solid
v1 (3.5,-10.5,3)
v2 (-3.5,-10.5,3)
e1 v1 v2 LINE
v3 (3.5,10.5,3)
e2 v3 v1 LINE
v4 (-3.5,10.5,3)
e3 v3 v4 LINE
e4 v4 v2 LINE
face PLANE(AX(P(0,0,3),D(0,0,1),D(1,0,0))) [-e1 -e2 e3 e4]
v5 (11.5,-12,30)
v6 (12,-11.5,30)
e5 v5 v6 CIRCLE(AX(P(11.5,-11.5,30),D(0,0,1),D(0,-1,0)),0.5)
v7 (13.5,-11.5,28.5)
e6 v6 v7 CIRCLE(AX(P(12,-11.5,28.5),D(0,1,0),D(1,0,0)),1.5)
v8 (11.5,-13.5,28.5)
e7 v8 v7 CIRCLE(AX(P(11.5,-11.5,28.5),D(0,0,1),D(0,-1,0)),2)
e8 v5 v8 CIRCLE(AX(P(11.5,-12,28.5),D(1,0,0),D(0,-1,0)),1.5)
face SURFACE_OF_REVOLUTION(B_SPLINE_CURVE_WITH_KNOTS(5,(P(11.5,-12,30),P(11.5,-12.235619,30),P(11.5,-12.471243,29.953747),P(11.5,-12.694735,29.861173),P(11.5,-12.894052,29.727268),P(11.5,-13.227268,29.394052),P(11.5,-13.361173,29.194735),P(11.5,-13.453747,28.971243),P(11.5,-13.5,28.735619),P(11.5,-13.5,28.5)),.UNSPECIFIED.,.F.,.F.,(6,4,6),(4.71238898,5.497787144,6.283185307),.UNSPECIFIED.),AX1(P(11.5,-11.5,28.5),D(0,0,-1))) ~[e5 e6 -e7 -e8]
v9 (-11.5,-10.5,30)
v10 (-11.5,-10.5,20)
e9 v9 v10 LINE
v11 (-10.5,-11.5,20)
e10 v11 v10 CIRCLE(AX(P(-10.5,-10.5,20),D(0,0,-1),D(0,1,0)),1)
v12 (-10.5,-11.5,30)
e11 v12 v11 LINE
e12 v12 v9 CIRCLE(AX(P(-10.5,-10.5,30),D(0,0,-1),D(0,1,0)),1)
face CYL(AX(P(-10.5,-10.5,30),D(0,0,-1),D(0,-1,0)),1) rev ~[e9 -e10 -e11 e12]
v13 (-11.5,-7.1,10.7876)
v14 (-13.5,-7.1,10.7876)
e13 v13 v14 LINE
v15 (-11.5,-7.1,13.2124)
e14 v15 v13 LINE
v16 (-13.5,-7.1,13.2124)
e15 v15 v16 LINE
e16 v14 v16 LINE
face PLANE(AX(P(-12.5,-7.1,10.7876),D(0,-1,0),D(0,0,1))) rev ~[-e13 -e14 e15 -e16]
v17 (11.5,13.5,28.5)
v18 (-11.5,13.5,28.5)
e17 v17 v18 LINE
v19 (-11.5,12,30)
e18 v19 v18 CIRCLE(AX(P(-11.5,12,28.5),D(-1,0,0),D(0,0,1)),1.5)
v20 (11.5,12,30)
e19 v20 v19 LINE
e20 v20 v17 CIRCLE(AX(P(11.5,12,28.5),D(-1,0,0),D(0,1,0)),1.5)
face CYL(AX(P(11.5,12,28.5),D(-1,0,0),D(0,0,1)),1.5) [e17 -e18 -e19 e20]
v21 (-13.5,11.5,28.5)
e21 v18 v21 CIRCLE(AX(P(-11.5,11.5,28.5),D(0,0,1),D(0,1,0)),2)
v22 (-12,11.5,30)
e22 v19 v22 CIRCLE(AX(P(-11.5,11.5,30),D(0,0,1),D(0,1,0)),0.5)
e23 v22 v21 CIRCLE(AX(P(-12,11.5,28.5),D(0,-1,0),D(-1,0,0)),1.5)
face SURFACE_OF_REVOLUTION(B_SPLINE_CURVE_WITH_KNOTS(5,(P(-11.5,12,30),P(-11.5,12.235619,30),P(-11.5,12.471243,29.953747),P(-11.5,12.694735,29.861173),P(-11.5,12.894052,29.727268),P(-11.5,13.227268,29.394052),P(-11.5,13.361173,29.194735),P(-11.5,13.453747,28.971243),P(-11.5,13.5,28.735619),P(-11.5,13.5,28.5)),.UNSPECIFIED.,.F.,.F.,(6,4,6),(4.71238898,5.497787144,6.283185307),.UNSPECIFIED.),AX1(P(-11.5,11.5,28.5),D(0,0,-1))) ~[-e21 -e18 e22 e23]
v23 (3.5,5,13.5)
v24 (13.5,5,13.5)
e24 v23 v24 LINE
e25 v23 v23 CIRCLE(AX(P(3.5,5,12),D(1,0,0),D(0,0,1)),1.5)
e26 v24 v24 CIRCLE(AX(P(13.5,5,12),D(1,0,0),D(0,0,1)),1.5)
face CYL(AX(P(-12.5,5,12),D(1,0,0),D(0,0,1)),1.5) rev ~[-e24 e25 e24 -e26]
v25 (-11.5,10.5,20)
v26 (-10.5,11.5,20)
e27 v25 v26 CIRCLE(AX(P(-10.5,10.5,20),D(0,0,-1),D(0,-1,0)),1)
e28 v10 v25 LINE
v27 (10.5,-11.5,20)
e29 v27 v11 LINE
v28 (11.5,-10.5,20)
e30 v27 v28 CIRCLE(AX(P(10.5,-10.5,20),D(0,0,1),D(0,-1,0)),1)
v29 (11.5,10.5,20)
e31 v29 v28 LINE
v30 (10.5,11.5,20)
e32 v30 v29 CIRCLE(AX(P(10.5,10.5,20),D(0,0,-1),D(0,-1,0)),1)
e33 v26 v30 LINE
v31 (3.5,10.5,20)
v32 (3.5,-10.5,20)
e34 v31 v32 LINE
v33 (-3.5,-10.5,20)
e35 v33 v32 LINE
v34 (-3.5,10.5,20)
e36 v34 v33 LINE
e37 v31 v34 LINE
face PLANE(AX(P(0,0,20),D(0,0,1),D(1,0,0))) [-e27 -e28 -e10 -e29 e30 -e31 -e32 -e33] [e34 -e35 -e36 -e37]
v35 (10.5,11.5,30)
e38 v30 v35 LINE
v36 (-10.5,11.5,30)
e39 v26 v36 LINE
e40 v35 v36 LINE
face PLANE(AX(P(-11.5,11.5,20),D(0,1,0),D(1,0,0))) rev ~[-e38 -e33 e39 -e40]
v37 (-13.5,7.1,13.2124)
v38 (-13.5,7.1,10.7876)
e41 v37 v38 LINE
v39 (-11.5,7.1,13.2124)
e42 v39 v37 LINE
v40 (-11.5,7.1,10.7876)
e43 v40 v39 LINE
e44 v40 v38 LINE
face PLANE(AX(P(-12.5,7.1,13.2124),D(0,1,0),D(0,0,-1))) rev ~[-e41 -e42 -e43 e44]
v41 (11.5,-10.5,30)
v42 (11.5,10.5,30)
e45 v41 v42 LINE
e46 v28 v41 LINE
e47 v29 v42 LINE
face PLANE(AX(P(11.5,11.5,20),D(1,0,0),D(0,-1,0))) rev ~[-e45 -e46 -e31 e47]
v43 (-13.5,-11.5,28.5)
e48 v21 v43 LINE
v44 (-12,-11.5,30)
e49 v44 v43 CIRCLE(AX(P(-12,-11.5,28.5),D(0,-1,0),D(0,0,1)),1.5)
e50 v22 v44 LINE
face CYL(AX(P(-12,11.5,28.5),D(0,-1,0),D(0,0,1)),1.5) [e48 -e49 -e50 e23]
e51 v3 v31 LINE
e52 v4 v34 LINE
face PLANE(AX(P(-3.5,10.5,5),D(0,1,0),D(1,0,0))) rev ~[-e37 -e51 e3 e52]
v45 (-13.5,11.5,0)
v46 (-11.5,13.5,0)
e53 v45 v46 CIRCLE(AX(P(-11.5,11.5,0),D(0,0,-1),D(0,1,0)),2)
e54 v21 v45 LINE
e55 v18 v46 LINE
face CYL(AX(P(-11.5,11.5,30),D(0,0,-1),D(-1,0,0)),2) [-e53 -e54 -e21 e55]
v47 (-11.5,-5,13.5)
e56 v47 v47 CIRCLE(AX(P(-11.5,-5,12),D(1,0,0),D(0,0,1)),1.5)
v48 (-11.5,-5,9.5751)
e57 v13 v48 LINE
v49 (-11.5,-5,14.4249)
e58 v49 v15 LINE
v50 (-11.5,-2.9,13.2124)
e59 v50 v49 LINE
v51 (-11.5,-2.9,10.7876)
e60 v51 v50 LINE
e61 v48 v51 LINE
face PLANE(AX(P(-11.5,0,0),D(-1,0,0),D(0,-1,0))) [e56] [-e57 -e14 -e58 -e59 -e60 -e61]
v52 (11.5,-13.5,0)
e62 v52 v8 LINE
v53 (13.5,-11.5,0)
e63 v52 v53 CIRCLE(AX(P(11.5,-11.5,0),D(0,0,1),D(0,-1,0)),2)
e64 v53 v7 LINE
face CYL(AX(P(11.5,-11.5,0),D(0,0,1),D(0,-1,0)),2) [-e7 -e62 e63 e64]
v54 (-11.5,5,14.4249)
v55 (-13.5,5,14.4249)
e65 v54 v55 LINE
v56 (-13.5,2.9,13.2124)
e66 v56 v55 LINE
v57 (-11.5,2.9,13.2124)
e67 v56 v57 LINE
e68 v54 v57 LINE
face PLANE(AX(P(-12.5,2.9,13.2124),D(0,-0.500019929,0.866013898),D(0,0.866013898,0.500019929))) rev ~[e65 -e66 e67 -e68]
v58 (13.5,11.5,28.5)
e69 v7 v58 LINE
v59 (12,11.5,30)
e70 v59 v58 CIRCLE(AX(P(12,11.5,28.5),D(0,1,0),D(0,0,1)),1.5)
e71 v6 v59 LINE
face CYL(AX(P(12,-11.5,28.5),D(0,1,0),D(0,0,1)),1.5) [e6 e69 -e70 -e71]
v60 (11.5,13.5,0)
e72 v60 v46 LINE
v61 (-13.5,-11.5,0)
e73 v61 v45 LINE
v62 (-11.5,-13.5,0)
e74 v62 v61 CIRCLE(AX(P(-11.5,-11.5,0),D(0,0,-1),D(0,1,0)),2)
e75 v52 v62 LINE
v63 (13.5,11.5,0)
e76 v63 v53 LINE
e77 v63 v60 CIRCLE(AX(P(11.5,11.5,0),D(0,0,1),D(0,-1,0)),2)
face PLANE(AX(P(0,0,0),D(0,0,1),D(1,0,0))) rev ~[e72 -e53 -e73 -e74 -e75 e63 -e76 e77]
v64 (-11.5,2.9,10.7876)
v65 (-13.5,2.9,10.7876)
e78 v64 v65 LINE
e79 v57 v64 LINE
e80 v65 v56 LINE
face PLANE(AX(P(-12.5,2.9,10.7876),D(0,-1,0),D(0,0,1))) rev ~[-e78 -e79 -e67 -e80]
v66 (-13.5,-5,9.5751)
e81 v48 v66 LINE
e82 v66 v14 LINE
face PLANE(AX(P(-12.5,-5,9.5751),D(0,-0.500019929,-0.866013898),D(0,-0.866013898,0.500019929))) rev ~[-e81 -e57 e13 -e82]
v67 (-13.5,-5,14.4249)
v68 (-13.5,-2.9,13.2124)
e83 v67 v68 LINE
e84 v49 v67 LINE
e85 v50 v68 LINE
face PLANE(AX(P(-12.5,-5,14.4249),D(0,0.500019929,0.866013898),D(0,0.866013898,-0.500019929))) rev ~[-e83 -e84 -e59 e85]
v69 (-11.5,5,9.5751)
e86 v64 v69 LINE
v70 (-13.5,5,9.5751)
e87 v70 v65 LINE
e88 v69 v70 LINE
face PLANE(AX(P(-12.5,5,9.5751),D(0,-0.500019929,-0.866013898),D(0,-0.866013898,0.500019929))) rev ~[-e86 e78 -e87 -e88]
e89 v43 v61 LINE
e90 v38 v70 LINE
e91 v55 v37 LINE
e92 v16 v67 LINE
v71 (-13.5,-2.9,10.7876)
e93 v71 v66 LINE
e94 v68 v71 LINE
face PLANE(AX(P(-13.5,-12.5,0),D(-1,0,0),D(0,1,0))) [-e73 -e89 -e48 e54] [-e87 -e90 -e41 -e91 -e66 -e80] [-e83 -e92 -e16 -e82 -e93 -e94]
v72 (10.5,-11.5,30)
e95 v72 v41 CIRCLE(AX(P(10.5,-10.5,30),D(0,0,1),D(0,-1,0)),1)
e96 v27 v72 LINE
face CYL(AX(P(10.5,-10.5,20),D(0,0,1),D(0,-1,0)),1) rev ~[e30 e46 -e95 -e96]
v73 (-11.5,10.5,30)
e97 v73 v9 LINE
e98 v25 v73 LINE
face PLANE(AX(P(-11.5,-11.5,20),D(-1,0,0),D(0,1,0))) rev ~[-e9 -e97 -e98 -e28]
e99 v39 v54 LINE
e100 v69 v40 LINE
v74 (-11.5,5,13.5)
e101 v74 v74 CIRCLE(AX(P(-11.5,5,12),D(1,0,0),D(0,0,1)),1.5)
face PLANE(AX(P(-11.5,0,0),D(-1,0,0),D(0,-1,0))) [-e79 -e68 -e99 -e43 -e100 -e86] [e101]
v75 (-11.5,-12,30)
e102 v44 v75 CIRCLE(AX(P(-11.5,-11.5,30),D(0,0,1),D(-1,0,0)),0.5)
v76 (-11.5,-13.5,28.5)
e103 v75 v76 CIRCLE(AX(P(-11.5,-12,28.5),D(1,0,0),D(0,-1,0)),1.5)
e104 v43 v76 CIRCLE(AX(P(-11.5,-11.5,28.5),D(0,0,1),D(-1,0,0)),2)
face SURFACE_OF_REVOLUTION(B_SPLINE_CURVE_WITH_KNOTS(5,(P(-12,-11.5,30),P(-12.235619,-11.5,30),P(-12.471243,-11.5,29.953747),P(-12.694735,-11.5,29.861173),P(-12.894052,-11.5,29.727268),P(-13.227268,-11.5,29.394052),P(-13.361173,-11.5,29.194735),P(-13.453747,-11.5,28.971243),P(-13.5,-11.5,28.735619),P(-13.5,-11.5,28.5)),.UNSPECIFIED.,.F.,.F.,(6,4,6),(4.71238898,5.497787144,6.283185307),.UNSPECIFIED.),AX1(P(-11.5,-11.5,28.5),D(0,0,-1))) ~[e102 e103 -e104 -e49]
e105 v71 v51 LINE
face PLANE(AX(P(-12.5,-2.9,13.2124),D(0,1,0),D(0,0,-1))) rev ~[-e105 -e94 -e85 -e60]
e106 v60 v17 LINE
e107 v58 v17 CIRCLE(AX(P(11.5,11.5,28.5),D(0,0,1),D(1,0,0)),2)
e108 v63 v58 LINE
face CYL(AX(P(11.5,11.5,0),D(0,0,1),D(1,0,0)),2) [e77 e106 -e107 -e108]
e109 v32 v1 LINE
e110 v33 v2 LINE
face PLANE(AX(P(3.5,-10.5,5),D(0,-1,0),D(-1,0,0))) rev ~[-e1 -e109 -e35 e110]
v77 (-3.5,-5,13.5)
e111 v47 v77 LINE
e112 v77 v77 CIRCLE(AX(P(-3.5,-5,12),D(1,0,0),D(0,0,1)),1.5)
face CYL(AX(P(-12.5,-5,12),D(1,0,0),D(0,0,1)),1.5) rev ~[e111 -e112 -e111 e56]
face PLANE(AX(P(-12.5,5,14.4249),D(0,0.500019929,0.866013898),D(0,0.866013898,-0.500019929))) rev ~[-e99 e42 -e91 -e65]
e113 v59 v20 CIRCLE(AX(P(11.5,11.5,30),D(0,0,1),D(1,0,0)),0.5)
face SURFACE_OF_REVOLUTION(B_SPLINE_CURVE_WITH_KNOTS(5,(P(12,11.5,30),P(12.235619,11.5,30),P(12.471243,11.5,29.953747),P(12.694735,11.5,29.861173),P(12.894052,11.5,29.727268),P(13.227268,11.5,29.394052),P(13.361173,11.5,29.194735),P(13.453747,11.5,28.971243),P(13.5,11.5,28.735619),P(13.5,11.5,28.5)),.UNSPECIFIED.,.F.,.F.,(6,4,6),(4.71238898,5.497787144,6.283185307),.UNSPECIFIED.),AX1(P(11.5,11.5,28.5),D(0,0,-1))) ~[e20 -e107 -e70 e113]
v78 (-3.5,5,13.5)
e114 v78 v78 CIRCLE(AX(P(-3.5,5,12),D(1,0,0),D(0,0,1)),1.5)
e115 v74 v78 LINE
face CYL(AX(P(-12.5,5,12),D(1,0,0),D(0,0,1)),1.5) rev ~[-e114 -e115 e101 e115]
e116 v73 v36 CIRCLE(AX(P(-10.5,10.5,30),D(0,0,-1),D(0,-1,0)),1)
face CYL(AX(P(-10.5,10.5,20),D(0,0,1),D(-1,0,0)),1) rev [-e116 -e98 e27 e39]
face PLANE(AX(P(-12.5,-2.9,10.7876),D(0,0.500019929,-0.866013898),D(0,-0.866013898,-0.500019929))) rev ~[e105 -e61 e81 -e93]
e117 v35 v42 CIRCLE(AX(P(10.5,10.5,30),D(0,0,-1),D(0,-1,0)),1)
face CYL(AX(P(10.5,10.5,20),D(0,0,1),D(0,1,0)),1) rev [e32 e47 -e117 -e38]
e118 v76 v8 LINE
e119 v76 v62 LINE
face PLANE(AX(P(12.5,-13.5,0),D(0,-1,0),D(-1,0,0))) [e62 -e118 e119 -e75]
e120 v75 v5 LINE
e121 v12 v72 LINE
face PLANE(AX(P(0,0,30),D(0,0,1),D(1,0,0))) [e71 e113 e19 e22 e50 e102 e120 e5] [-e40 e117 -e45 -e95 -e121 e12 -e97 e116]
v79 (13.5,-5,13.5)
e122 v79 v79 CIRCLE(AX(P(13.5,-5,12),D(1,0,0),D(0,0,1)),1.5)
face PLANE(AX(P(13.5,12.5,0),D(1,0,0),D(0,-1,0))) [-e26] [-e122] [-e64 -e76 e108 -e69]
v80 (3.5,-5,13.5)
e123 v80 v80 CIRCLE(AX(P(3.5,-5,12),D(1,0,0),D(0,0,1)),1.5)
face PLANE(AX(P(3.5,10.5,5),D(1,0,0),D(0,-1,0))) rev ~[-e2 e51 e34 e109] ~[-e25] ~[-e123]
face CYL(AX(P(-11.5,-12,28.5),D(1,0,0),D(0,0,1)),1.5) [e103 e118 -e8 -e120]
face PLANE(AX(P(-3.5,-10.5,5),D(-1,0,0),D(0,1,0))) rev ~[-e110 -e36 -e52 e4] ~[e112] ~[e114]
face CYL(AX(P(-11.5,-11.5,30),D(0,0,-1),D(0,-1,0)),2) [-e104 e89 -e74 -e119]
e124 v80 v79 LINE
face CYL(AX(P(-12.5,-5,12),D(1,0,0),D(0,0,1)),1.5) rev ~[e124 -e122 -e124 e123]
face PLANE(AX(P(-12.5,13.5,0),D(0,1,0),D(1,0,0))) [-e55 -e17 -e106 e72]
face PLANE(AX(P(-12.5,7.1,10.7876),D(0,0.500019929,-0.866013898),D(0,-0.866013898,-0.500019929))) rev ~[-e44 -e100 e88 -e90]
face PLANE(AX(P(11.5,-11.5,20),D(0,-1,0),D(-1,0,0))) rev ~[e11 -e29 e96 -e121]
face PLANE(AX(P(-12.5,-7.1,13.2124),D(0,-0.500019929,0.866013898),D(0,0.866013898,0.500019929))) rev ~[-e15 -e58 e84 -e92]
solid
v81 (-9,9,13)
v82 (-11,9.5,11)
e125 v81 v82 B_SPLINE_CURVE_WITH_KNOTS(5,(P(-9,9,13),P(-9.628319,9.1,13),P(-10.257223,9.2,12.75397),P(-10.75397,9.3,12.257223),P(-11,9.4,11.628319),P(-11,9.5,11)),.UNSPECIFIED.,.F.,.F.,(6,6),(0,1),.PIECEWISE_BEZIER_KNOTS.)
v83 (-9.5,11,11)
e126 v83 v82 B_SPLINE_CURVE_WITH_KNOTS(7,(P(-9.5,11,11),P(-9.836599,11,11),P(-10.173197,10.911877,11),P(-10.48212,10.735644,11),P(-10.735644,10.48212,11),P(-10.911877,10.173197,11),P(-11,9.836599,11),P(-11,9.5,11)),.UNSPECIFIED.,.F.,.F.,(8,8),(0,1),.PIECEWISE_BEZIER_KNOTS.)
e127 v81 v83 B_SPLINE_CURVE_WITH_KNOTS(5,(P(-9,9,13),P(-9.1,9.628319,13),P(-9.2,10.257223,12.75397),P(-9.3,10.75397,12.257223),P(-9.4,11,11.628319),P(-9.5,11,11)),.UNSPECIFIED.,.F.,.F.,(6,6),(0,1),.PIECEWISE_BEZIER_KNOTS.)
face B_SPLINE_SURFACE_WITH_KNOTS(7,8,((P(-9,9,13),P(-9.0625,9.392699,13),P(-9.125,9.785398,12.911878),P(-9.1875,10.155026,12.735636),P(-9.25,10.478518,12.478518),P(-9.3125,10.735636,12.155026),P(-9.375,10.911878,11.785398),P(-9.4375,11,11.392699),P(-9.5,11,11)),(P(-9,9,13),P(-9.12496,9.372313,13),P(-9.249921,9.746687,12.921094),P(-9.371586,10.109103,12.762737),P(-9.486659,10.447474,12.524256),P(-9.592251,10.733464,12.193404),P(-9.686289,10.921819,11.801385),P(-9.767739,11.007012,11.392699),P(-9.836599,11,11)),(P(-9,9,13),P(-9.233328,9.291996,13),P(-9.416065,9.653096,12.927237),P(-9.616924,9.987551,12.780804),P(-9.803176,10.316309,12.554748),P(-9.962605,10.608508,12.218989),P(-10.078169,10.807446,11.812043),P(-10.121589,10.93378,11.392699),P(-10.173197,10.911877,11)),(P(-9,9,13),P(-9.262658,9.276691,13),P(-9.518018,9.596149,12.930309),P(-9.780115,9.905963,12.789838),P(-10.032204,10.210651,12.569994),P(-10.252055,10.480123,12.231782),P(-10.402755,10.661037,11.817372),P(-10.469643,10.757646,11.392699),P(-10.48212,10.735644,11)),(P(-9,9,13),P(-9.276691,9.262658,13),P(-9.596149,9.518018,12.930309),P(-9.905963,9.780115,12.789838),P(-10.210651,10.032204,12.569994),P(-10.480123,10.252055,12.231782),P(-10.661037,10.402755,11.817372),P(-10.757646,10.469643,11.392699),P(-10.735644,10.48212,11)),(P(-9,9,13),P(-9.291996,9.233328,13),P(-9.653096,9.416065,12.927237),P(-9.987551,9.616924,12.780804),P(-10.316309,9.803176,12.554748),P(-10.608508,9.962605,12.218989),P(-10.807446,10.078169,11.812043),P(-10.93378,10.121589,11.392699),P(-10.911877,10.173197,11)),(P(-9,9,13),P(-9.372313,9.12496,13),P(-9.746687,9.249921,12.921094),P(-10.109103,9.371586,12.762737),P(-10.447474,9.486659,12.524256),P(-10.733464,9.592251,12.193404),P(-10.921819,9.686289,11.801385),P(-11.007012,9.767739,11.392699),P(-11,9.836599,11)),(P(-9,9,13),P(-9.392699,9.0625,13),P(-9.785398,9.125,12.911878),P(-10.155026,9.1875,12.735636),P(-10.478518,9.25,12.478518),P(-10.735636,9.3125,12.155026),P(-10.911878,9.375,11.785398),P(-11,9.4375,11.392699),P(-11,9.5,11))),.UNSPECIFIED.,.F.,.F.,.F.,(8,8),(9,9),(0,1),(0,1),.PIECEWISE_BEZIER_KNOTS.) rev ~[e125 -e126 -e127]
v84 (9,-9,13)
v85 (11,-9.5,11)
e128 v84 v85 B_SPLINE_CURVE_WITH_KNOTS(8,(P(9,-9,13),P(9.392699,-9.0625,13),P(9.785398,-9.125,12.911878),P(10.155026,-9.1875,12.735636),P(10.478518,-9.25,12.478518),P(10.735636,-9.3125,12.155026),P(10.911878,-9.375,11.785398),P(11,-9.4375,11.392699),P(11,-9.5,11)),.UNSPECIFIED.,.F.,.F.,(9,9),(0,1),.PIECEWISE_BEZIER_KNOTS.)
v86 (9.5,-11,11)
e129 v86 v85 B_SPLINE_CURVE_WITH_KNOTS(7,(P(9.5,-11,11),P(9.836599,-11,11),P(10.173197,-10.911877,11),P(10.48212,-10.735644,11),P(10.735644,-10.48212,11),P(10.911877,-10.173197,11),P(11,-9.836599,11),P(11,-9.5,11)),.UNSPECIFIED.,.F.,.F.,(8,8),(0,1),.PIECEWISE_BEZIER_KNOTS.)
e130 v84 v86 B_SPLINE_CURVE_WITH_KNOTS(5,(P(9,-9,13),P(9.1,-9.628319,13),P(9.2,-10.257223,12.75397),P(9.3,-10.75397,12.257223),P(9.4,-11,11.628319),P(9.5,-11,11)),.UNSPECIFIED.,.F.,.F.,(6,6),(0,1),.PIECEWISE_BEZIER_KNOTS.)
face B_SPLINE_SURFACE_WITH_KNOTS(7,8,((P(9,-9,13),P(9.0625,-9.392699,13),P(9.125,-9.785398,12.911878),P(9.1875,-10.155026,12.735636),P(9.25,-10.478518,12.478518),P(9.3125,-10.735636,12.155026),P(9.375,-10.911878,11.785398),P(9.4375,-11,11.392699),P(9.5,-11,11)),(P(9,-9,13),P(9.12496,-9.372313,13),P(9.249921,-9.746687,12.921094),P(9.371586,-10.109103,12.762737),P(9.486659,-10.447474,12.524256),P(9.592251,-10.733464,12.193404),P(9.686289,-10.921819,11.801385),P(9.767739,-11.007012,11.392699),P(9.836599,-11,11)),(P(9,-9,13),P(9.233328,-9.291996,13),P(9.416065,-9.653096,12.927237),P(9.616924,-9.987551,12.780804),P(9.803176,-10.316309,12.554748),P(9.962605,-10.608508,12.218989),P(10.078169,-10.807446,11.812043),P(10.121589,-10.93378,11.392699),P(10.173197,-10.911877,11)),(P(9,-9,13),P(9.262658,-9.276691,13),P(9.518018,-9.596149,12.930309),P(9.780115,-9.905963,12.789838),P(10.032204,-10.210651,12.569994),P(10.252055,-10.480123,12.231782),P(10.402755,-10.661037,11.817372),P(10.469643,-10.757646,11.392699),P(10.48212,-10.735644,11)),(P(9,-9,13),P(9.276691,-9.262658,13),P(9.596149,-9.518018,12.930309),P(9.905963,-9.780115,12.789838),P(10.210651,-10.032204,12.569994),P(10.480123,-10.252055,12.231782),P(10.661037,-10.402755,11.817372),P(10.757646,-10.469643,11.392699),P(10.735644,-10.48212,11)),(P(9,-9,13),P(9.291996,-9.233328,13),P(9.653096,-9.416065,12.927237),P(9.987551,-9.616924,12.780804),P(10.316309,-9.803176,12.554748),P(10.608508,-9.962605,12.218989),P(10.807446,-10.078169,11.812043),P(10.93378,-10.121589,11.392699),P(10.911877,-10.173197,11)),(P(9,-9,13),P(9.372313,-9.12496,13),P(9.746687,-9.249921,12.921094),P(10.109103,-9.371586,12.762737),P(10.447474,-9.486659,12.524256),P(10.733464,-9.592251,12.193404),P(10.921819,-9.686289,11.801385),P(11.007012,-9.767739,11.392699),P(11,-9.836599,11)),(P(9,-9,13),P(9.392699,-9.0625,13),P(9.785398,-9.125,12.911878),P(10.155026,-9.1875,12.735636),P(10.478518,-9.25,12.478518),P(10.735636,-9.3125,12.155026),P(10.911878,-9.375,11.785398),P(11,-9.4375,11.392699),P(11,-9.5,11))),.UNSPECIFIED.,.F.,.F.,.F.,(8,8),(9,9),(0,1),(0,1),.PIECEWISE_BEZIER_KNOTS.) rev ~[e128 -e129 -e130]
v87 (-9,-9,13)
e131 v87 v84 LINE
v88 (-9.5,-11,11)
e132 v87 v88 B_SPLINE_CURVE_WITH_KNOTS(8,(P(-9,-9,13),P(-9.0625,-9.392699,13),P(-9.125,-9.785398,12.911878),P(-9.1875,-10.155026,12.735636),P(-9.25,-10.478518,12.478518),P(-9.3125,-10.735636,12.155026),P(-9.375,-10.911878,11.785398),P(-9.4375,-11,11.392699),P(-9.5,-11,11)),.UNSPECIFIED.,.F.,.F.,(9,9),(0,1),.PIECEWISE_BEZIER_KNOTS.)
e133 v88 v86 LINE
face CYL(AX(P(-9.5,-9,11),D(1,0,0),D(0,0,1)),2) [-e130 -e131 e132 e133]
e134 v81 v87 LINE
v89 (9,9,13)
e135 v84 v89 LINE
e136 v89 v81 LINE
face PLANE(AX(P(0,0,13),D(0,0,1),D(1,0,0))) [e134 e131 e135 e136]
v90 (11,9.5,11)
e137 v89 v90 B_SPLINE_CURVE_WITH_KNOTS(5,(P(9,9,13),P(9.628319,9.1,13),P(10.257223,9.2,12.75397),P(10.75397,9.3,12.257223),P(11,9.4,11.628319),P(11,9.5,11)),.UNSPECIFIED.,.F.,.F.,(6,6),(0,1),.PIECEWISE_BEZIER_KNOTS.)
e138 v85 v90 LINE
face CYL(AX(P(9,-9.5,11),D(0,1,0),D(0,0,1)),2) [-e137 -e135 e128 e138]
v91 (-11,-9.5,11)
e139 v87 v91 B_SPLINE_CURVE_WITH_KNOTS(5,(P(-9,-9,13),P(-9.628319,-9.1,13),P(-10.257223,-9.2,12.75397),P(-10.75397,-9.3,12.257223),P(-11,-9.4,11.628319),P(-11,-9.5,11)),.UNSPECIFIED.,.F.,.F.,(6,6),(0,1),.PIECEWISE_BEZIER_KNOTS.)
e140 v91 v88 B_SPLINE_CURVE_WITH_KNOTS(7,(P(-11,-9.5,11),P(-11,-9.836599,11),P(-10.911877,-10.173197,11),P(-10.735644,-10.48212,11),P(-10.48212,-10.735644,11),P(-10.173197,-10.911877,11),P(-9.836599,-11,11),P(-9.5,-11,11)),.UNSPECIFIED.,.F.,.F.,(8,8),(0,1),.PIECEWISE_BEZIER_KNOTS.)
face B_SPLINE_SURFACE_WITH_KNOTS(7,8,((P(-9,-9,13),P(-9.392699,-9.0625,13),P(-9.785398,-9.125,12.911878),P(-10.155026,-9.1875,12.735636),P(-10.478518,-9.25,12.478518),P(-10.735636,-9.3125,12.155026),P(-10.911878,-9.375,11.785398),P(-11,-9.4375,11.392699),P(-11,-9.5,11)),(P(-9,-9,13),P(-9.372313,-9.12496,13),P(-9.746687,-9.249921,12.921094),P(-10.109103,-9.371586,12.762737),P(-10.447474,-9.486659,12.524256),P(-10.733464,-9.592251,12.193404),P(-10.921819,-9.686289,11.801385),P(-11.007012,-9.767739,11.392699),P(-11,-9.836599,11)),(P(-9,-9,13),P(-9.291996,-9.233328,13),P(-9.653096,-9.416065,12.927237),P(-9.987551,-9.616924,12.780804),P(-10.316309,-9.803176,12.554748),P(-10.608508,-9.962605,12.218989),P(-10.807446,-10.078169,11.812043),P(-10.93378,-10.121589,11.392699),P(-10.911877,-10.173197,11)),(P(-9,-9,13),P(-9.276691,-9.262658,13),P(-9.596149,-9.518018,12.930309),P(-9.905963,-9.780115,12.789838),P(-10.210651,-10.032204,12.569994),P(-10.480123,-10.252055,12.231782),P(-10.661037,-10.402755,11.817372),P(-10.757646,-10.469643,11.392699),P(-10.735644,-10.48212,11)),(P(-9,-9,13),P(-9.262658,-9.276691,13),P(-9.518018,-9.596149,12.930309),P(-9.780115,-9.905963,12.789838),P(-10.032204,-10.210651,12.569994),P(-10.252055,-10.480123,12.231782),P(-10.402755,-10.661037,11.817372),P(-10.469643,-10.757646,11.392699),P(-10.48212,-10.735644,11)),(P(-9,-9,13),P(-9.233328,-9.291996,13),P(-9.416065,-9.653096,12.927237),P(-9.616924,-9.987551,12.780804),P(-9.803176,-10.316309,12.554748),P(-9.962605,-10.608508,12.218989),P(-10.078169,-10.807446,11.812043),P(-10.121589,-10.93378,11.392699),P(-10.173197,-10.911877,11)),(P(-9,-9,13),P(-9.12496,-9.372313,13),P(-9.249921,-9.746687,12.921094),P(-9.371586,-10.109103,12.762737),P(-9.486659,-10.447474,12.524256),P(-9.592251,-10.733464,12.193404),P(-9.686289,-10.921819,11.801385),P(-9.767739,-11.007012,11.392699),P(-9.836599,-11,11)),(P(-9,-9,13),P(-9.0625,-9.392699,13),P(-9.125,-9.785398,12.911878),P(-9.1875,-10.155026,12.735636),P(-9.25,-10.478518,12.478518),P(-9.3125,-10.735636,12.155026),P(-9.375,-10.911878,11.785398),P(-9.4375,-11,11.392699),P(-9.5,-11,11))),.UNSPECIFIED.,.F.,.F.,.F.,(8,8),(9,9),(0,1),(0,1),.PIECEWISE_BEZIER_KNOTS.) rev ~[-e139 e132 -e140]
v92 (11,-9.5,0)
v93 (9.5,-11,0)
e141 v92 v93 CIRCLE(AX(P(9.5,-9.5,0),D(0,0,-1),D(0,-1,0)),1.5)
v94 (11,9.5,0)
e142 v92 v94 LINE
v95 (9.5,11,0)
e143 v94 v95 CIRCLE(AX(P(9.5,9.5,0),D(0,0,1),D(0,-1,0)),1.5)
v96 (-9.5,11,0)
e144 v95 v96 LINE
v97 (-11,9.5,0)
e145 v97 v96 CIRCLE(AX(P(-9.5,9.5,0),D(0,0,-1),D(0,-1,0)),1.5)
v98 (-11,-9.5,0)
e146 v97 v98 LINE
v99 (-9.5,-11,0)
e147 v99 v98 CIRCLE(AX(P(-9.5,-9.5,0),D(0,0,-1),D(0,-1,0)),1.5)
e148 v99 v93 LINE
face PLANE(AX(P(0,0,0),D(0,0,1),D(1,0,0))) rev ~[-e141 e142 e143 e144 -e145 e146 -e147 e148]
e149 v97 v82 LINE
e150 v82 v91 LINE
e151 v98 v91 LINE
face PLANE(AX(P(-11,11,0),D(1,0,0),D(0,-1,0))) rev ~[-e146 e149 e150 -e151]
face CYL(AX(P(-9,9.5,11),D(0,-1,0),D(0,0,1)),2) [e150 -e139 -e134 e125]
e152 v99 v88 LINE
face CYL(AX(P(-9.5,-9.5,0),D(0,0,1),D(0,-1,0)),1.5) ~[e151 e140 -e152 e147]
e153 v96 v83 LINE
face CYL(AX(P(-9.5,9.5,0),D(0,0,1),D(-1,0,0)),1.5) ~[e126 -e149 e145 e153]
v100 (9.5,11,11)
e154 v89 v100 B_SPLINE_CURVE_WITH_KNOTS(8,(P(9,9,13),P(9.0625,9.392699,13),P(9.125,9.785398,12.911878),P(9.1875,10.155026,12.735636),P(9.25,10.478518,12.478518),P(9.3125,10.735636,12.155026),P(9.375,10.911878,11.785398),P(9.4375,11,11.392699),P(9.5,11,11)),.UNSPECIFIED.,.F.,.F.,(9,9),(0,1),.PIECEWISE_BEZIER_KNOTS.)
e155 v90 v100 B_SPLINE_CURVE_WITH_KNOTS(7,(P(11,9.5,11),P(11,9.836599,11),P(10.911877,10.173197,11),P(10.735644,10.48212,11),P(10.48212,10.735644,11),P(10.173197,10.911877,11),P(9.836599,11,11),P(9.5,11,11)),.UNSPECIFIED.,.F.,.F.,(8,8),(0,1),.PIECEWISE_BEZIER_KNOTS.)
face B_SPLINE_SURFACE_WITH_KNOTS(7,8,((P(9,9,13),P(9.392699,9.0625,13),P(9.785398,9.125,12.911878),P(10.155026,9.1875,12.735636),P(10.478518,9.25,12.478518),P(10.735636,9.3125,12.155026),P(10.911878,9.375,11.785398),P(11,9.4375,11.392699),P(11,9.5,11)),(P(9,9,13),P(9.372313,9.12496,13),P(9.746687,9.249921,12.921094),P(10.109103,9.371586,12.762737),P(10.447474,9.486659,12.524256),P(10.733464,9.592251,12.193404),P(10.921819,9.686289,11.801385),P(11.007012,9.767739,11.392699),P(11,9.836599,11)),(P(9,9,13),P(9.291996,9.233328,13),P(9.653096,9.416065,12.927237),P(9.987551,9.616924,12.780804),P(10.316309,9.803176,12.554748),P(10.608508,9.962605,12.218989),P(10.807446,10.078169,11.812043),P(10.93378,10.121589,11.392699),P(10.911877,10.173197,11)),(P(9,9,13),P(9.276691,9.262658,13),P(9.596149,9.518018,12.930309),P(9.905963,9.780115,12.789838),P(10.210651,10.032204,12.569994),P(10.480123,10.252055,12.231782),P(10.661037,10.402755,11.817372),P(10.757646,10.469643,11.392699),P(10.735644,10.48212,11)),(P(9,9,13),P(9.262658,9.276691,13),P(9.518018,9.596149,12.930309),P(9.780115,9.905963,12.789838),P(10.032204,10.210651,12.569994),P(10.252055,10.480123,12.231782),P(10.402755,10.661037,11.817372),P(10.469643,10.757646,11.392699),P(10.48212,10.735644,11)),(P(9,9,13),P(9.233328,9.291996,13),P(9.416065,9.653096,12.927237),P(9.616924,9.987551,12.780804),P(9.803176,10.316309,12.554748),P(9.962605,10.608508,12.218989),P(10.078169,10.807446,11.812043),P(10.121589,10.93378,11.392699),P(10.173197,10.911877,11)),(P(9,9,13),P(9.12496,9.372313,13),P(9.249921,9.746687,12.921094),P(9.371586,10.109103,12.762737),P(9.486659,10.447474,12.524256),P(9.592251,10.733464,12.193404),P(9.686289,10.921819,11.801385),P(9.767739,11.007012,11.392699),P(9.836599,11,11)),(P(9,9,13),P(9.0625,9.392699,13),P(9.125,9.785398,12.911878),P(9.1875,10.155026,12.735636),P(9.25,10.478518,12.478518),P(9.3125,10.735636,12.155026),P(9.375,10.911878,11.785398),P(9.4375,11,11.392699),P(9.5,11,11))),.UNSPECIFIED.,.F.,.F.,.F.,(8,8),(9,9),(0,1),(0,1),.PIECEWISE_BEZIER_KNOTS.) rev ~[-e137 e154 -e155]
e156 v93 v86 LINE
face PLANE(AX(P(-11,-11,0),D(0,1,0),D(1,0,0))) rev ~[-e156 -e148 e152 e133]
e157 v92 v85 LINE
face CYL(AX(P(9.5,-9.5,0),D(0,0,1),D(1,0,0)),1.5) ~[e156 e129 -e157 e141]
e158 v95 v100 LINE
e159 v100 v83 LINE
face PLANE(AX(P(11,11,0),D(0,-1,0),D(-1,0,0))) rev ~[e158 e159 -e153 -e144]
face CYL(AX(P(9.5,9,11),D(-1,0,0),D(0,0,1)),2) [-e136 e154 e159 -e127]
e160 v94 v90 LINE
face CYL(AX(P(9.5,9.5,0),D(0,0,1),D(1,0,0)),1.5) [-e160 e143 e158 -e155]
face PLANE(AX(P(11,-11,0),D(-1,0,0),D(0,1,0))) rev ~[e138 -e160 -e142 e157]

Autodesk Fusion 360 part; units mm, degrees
sketch "Sketch1" plane through (0, 0, 0) normal (0, 0, 1) x (1, 0, 0)
  line L0 (12.5, -12.5) -> (-12.5, -12.5)
  line L1 (-12.5, -12.5) -> (-12.5, 12.5)
  line L2 (-12.5, 12.5) -> (12.5, 12.5)
  line L3 (12.5, 12.5) -> (12.5, -12.5)
  line L4 (12.5, -12.5) -> (-12.5, 12.5) construction
  line L5 (-12.5, -12.5) -> (12.5, 12.5) construction
  line L6 (3.5, -10.5) -> (-3.5, -10.5)
  line L7 (-3.5, -10.5) -> (-3.5, 10.5)
  line L8 (-3.5, 10.5) -> (3.5, 10.5)
  line L9 (3.5, 10.5) -> (3.5, -10.5)
  line L10 (3.5, -10.5) -> (-3.5, 10.5) construction
  line L11 (-3.5, -10.5) -> (3.5, 10.5) construction
  line L12 (11.5, -11.5) -> (-11.5, -11.5)
  line L13 (-11.5, -11.5) -> (-11.5, 11.5)
  line L14 (-11.5, 11.5) -> (11.5, 11.5)
  line L15 (11.5, 11.5) -> (11.5, -11.5)
  line L16 (11.5, -11.5) -> (-11.5, 11.5) construction
  line L17 (-11.5, -11.5) -> (11.5, 11.5) construction
  dimension "d1" = 25
  dimension "d2" = 25
  dimension "d3" = 7
  dimension "d4" = 21
  dimension "d5" = 23
  dimension "d6" = 23
extrude "Extrude1" add sketch "Sketch1" along normal blind 30 contours L0 L1 L2 L3 | L6 L7 L8 L9 | L12 L13 L14 L15 makes body 1
extrude "Extrude2" cut sketch "Sketch1" along normal blind 1000 from surface at 5 contours L6 L7 L8 L9 bodies 1
extrude "Extrude3" cut sketch "Sketch1" along normal blind 100 from surface at 20 contours L12 L13 L14 L15 bodies 1
sketch "Sketch2" plane through (-12.5, 0, 0) normal (-1, 0, 0) x (0, -1, 0)
  line L0 (-12.5, 0) -> (12.5, 0)
  line L1 (12.5, 0) -> (12.5, 30)
  line L2 (12.5, 30) -> (-12.5, 30)
  line L3 (-12.5, 30) -> (-12.5, 0)
  line L4 (0, 12) -> (5, 12)
  line L5 (0, 12) -> (-5, 12)
  line L6 (-2.9, 13.2124) -> (-5, 14.4249)
  line L7 (-5, 14.4249) -> (-7.1, 13.2124)
  line L8 (-7.1, 13.2124) -> (-7.1, 10.7876)
  line L9 (-7.1, 10.7876) -> (-5, 9.5751)
  line L10 (-5, 9.5751) -> (-2.9, 10.7876)
  line L11 (-2.9, 10.7876) -> (-2.9, 13.2124)
  line L12 (7.1, 13.2124) -> (5, 14.4249)
  line L13 (5, 14.4249) -> (2.9, 13.2124)
  line L14 (2.9, 13.2124) -> (2.9, 10.7876)
  line L15 (2.9, 10.7876) -> (5, 9.5751)
  line L16 (5, 9.5751) -> (7.1, 10.7876)
  line L17 (7.1, 10.7876) -> (7.1, 13.2124)
  point P0 (-5, 12)
  point P1 (5, 12)
  dimension "d17" = 12
  dimension "d18" = 5
  dimension "d22" = 2.1
  dimension "d23" = 2.1
extrude "Extrude4" cut 1 faces at (1.1667, -3.5, 5) along direction (0, 0, -1) blind 2 on bodies 1 bodies 1
hole "Hole1" at (-12.5, -5, 12) at (-12.5, 5, 12) direction (1, 0, 0) diameter 3 depth 100 tip angle 118 bodies 1
extrude "Extrude5" cut sketch "Sketch2" against normal blind 1 contours L6 L7 L8 L9 L10 L11 | L12 L13 L14 L15 L16 L17 bodies 1
move_face "OffsetFaces1" offset 1 3 faces at (12.5, -1.5193, 24.4778) (-4.1667, 12.5, 20) (4.1667, -12.5, 20) on bodies 1
move_face "OffsetFaces2" offset 1 1 faces at (-12.5, 1.6667, 24.8083) on bodies 1
fillet "Fillet1" radius 2 4 edges at (-13.5, -13.5, 15) (13.5, -13.5, 15) (13.5, 13.5, 15) (-13.5, 13.5, 15) on bodies 1
fillet "Fillet2" radius 1 4 edges at (11.5, -11.5, 25) (11.5, 11.5, 25) (-11.5, 11.5, 25) (-11.5, -11.5, 25) on bodies 1
fillet "Fillet3" radius 1.5 8 edges at (12.9142, -12.9142, 30) (13.5, 0, 30) (12.9142, 12.9142, 30) (0, 13.5, 30) (-12.9142, 12.9142, 30) (-13.5, 0, 30) (-12.9142, -12.9142, 30) (0, -13.5, 30) on bodies 1
copy_body "Body->Comp1" bodies 1 removing the originals makes body 2 in component "Box1"
sketch "Sketch3" plane through (0, 0, 0) normal (0, 0, 1) x (1, 0, 0)
  line L0 (11, 11) -> (-11, 11)
  line L1 (-11, 11) -> (-11, -11)
  line L2 (-11, -11) -> (11, -11)
  line L3 (11, -11) -> (11, 11)
  line L4 (11, 11) -> (-11, -11) construction
  line L5 (-11, 11) -> (11, -11) construction
  dimension "d34" = 22
  dimension "d35" = 22
extrude "Extrude6" add sketch "Sketch3" along normal blind 13 separate body makes body 3
fillet "Fillet4" radius 1.5 4 edges at (11, -11, 6.5) (11, 11, 6.5) (-11, 11, 6.5) (-11, -11, 6.5) on bodies 3
fillet "Fillet5" radius 2 8 edges at (-11, 0, 13) (-10.5607, 10.5607, 13) (0, 11, 13) (10.5607, 10.5607, 13) (11, 0, 13) (10.5607, -10.5607, 13) (0, -11, 13) (-10.5607, -10.5607, 13) on bodies 3
copy_body "Body->Comp2" bodies 3 removing the originals makes body 4 in component "Plunger"
component "Box1" placed x (1, 0, 0) y (0, 1, 0) z (0, 0, 1) at (0, 0, 0)
component "Plunger" placed x (1, 0, 0) y (0, 1, 0) z (0, 0, 1) at (0, 0, 0)
